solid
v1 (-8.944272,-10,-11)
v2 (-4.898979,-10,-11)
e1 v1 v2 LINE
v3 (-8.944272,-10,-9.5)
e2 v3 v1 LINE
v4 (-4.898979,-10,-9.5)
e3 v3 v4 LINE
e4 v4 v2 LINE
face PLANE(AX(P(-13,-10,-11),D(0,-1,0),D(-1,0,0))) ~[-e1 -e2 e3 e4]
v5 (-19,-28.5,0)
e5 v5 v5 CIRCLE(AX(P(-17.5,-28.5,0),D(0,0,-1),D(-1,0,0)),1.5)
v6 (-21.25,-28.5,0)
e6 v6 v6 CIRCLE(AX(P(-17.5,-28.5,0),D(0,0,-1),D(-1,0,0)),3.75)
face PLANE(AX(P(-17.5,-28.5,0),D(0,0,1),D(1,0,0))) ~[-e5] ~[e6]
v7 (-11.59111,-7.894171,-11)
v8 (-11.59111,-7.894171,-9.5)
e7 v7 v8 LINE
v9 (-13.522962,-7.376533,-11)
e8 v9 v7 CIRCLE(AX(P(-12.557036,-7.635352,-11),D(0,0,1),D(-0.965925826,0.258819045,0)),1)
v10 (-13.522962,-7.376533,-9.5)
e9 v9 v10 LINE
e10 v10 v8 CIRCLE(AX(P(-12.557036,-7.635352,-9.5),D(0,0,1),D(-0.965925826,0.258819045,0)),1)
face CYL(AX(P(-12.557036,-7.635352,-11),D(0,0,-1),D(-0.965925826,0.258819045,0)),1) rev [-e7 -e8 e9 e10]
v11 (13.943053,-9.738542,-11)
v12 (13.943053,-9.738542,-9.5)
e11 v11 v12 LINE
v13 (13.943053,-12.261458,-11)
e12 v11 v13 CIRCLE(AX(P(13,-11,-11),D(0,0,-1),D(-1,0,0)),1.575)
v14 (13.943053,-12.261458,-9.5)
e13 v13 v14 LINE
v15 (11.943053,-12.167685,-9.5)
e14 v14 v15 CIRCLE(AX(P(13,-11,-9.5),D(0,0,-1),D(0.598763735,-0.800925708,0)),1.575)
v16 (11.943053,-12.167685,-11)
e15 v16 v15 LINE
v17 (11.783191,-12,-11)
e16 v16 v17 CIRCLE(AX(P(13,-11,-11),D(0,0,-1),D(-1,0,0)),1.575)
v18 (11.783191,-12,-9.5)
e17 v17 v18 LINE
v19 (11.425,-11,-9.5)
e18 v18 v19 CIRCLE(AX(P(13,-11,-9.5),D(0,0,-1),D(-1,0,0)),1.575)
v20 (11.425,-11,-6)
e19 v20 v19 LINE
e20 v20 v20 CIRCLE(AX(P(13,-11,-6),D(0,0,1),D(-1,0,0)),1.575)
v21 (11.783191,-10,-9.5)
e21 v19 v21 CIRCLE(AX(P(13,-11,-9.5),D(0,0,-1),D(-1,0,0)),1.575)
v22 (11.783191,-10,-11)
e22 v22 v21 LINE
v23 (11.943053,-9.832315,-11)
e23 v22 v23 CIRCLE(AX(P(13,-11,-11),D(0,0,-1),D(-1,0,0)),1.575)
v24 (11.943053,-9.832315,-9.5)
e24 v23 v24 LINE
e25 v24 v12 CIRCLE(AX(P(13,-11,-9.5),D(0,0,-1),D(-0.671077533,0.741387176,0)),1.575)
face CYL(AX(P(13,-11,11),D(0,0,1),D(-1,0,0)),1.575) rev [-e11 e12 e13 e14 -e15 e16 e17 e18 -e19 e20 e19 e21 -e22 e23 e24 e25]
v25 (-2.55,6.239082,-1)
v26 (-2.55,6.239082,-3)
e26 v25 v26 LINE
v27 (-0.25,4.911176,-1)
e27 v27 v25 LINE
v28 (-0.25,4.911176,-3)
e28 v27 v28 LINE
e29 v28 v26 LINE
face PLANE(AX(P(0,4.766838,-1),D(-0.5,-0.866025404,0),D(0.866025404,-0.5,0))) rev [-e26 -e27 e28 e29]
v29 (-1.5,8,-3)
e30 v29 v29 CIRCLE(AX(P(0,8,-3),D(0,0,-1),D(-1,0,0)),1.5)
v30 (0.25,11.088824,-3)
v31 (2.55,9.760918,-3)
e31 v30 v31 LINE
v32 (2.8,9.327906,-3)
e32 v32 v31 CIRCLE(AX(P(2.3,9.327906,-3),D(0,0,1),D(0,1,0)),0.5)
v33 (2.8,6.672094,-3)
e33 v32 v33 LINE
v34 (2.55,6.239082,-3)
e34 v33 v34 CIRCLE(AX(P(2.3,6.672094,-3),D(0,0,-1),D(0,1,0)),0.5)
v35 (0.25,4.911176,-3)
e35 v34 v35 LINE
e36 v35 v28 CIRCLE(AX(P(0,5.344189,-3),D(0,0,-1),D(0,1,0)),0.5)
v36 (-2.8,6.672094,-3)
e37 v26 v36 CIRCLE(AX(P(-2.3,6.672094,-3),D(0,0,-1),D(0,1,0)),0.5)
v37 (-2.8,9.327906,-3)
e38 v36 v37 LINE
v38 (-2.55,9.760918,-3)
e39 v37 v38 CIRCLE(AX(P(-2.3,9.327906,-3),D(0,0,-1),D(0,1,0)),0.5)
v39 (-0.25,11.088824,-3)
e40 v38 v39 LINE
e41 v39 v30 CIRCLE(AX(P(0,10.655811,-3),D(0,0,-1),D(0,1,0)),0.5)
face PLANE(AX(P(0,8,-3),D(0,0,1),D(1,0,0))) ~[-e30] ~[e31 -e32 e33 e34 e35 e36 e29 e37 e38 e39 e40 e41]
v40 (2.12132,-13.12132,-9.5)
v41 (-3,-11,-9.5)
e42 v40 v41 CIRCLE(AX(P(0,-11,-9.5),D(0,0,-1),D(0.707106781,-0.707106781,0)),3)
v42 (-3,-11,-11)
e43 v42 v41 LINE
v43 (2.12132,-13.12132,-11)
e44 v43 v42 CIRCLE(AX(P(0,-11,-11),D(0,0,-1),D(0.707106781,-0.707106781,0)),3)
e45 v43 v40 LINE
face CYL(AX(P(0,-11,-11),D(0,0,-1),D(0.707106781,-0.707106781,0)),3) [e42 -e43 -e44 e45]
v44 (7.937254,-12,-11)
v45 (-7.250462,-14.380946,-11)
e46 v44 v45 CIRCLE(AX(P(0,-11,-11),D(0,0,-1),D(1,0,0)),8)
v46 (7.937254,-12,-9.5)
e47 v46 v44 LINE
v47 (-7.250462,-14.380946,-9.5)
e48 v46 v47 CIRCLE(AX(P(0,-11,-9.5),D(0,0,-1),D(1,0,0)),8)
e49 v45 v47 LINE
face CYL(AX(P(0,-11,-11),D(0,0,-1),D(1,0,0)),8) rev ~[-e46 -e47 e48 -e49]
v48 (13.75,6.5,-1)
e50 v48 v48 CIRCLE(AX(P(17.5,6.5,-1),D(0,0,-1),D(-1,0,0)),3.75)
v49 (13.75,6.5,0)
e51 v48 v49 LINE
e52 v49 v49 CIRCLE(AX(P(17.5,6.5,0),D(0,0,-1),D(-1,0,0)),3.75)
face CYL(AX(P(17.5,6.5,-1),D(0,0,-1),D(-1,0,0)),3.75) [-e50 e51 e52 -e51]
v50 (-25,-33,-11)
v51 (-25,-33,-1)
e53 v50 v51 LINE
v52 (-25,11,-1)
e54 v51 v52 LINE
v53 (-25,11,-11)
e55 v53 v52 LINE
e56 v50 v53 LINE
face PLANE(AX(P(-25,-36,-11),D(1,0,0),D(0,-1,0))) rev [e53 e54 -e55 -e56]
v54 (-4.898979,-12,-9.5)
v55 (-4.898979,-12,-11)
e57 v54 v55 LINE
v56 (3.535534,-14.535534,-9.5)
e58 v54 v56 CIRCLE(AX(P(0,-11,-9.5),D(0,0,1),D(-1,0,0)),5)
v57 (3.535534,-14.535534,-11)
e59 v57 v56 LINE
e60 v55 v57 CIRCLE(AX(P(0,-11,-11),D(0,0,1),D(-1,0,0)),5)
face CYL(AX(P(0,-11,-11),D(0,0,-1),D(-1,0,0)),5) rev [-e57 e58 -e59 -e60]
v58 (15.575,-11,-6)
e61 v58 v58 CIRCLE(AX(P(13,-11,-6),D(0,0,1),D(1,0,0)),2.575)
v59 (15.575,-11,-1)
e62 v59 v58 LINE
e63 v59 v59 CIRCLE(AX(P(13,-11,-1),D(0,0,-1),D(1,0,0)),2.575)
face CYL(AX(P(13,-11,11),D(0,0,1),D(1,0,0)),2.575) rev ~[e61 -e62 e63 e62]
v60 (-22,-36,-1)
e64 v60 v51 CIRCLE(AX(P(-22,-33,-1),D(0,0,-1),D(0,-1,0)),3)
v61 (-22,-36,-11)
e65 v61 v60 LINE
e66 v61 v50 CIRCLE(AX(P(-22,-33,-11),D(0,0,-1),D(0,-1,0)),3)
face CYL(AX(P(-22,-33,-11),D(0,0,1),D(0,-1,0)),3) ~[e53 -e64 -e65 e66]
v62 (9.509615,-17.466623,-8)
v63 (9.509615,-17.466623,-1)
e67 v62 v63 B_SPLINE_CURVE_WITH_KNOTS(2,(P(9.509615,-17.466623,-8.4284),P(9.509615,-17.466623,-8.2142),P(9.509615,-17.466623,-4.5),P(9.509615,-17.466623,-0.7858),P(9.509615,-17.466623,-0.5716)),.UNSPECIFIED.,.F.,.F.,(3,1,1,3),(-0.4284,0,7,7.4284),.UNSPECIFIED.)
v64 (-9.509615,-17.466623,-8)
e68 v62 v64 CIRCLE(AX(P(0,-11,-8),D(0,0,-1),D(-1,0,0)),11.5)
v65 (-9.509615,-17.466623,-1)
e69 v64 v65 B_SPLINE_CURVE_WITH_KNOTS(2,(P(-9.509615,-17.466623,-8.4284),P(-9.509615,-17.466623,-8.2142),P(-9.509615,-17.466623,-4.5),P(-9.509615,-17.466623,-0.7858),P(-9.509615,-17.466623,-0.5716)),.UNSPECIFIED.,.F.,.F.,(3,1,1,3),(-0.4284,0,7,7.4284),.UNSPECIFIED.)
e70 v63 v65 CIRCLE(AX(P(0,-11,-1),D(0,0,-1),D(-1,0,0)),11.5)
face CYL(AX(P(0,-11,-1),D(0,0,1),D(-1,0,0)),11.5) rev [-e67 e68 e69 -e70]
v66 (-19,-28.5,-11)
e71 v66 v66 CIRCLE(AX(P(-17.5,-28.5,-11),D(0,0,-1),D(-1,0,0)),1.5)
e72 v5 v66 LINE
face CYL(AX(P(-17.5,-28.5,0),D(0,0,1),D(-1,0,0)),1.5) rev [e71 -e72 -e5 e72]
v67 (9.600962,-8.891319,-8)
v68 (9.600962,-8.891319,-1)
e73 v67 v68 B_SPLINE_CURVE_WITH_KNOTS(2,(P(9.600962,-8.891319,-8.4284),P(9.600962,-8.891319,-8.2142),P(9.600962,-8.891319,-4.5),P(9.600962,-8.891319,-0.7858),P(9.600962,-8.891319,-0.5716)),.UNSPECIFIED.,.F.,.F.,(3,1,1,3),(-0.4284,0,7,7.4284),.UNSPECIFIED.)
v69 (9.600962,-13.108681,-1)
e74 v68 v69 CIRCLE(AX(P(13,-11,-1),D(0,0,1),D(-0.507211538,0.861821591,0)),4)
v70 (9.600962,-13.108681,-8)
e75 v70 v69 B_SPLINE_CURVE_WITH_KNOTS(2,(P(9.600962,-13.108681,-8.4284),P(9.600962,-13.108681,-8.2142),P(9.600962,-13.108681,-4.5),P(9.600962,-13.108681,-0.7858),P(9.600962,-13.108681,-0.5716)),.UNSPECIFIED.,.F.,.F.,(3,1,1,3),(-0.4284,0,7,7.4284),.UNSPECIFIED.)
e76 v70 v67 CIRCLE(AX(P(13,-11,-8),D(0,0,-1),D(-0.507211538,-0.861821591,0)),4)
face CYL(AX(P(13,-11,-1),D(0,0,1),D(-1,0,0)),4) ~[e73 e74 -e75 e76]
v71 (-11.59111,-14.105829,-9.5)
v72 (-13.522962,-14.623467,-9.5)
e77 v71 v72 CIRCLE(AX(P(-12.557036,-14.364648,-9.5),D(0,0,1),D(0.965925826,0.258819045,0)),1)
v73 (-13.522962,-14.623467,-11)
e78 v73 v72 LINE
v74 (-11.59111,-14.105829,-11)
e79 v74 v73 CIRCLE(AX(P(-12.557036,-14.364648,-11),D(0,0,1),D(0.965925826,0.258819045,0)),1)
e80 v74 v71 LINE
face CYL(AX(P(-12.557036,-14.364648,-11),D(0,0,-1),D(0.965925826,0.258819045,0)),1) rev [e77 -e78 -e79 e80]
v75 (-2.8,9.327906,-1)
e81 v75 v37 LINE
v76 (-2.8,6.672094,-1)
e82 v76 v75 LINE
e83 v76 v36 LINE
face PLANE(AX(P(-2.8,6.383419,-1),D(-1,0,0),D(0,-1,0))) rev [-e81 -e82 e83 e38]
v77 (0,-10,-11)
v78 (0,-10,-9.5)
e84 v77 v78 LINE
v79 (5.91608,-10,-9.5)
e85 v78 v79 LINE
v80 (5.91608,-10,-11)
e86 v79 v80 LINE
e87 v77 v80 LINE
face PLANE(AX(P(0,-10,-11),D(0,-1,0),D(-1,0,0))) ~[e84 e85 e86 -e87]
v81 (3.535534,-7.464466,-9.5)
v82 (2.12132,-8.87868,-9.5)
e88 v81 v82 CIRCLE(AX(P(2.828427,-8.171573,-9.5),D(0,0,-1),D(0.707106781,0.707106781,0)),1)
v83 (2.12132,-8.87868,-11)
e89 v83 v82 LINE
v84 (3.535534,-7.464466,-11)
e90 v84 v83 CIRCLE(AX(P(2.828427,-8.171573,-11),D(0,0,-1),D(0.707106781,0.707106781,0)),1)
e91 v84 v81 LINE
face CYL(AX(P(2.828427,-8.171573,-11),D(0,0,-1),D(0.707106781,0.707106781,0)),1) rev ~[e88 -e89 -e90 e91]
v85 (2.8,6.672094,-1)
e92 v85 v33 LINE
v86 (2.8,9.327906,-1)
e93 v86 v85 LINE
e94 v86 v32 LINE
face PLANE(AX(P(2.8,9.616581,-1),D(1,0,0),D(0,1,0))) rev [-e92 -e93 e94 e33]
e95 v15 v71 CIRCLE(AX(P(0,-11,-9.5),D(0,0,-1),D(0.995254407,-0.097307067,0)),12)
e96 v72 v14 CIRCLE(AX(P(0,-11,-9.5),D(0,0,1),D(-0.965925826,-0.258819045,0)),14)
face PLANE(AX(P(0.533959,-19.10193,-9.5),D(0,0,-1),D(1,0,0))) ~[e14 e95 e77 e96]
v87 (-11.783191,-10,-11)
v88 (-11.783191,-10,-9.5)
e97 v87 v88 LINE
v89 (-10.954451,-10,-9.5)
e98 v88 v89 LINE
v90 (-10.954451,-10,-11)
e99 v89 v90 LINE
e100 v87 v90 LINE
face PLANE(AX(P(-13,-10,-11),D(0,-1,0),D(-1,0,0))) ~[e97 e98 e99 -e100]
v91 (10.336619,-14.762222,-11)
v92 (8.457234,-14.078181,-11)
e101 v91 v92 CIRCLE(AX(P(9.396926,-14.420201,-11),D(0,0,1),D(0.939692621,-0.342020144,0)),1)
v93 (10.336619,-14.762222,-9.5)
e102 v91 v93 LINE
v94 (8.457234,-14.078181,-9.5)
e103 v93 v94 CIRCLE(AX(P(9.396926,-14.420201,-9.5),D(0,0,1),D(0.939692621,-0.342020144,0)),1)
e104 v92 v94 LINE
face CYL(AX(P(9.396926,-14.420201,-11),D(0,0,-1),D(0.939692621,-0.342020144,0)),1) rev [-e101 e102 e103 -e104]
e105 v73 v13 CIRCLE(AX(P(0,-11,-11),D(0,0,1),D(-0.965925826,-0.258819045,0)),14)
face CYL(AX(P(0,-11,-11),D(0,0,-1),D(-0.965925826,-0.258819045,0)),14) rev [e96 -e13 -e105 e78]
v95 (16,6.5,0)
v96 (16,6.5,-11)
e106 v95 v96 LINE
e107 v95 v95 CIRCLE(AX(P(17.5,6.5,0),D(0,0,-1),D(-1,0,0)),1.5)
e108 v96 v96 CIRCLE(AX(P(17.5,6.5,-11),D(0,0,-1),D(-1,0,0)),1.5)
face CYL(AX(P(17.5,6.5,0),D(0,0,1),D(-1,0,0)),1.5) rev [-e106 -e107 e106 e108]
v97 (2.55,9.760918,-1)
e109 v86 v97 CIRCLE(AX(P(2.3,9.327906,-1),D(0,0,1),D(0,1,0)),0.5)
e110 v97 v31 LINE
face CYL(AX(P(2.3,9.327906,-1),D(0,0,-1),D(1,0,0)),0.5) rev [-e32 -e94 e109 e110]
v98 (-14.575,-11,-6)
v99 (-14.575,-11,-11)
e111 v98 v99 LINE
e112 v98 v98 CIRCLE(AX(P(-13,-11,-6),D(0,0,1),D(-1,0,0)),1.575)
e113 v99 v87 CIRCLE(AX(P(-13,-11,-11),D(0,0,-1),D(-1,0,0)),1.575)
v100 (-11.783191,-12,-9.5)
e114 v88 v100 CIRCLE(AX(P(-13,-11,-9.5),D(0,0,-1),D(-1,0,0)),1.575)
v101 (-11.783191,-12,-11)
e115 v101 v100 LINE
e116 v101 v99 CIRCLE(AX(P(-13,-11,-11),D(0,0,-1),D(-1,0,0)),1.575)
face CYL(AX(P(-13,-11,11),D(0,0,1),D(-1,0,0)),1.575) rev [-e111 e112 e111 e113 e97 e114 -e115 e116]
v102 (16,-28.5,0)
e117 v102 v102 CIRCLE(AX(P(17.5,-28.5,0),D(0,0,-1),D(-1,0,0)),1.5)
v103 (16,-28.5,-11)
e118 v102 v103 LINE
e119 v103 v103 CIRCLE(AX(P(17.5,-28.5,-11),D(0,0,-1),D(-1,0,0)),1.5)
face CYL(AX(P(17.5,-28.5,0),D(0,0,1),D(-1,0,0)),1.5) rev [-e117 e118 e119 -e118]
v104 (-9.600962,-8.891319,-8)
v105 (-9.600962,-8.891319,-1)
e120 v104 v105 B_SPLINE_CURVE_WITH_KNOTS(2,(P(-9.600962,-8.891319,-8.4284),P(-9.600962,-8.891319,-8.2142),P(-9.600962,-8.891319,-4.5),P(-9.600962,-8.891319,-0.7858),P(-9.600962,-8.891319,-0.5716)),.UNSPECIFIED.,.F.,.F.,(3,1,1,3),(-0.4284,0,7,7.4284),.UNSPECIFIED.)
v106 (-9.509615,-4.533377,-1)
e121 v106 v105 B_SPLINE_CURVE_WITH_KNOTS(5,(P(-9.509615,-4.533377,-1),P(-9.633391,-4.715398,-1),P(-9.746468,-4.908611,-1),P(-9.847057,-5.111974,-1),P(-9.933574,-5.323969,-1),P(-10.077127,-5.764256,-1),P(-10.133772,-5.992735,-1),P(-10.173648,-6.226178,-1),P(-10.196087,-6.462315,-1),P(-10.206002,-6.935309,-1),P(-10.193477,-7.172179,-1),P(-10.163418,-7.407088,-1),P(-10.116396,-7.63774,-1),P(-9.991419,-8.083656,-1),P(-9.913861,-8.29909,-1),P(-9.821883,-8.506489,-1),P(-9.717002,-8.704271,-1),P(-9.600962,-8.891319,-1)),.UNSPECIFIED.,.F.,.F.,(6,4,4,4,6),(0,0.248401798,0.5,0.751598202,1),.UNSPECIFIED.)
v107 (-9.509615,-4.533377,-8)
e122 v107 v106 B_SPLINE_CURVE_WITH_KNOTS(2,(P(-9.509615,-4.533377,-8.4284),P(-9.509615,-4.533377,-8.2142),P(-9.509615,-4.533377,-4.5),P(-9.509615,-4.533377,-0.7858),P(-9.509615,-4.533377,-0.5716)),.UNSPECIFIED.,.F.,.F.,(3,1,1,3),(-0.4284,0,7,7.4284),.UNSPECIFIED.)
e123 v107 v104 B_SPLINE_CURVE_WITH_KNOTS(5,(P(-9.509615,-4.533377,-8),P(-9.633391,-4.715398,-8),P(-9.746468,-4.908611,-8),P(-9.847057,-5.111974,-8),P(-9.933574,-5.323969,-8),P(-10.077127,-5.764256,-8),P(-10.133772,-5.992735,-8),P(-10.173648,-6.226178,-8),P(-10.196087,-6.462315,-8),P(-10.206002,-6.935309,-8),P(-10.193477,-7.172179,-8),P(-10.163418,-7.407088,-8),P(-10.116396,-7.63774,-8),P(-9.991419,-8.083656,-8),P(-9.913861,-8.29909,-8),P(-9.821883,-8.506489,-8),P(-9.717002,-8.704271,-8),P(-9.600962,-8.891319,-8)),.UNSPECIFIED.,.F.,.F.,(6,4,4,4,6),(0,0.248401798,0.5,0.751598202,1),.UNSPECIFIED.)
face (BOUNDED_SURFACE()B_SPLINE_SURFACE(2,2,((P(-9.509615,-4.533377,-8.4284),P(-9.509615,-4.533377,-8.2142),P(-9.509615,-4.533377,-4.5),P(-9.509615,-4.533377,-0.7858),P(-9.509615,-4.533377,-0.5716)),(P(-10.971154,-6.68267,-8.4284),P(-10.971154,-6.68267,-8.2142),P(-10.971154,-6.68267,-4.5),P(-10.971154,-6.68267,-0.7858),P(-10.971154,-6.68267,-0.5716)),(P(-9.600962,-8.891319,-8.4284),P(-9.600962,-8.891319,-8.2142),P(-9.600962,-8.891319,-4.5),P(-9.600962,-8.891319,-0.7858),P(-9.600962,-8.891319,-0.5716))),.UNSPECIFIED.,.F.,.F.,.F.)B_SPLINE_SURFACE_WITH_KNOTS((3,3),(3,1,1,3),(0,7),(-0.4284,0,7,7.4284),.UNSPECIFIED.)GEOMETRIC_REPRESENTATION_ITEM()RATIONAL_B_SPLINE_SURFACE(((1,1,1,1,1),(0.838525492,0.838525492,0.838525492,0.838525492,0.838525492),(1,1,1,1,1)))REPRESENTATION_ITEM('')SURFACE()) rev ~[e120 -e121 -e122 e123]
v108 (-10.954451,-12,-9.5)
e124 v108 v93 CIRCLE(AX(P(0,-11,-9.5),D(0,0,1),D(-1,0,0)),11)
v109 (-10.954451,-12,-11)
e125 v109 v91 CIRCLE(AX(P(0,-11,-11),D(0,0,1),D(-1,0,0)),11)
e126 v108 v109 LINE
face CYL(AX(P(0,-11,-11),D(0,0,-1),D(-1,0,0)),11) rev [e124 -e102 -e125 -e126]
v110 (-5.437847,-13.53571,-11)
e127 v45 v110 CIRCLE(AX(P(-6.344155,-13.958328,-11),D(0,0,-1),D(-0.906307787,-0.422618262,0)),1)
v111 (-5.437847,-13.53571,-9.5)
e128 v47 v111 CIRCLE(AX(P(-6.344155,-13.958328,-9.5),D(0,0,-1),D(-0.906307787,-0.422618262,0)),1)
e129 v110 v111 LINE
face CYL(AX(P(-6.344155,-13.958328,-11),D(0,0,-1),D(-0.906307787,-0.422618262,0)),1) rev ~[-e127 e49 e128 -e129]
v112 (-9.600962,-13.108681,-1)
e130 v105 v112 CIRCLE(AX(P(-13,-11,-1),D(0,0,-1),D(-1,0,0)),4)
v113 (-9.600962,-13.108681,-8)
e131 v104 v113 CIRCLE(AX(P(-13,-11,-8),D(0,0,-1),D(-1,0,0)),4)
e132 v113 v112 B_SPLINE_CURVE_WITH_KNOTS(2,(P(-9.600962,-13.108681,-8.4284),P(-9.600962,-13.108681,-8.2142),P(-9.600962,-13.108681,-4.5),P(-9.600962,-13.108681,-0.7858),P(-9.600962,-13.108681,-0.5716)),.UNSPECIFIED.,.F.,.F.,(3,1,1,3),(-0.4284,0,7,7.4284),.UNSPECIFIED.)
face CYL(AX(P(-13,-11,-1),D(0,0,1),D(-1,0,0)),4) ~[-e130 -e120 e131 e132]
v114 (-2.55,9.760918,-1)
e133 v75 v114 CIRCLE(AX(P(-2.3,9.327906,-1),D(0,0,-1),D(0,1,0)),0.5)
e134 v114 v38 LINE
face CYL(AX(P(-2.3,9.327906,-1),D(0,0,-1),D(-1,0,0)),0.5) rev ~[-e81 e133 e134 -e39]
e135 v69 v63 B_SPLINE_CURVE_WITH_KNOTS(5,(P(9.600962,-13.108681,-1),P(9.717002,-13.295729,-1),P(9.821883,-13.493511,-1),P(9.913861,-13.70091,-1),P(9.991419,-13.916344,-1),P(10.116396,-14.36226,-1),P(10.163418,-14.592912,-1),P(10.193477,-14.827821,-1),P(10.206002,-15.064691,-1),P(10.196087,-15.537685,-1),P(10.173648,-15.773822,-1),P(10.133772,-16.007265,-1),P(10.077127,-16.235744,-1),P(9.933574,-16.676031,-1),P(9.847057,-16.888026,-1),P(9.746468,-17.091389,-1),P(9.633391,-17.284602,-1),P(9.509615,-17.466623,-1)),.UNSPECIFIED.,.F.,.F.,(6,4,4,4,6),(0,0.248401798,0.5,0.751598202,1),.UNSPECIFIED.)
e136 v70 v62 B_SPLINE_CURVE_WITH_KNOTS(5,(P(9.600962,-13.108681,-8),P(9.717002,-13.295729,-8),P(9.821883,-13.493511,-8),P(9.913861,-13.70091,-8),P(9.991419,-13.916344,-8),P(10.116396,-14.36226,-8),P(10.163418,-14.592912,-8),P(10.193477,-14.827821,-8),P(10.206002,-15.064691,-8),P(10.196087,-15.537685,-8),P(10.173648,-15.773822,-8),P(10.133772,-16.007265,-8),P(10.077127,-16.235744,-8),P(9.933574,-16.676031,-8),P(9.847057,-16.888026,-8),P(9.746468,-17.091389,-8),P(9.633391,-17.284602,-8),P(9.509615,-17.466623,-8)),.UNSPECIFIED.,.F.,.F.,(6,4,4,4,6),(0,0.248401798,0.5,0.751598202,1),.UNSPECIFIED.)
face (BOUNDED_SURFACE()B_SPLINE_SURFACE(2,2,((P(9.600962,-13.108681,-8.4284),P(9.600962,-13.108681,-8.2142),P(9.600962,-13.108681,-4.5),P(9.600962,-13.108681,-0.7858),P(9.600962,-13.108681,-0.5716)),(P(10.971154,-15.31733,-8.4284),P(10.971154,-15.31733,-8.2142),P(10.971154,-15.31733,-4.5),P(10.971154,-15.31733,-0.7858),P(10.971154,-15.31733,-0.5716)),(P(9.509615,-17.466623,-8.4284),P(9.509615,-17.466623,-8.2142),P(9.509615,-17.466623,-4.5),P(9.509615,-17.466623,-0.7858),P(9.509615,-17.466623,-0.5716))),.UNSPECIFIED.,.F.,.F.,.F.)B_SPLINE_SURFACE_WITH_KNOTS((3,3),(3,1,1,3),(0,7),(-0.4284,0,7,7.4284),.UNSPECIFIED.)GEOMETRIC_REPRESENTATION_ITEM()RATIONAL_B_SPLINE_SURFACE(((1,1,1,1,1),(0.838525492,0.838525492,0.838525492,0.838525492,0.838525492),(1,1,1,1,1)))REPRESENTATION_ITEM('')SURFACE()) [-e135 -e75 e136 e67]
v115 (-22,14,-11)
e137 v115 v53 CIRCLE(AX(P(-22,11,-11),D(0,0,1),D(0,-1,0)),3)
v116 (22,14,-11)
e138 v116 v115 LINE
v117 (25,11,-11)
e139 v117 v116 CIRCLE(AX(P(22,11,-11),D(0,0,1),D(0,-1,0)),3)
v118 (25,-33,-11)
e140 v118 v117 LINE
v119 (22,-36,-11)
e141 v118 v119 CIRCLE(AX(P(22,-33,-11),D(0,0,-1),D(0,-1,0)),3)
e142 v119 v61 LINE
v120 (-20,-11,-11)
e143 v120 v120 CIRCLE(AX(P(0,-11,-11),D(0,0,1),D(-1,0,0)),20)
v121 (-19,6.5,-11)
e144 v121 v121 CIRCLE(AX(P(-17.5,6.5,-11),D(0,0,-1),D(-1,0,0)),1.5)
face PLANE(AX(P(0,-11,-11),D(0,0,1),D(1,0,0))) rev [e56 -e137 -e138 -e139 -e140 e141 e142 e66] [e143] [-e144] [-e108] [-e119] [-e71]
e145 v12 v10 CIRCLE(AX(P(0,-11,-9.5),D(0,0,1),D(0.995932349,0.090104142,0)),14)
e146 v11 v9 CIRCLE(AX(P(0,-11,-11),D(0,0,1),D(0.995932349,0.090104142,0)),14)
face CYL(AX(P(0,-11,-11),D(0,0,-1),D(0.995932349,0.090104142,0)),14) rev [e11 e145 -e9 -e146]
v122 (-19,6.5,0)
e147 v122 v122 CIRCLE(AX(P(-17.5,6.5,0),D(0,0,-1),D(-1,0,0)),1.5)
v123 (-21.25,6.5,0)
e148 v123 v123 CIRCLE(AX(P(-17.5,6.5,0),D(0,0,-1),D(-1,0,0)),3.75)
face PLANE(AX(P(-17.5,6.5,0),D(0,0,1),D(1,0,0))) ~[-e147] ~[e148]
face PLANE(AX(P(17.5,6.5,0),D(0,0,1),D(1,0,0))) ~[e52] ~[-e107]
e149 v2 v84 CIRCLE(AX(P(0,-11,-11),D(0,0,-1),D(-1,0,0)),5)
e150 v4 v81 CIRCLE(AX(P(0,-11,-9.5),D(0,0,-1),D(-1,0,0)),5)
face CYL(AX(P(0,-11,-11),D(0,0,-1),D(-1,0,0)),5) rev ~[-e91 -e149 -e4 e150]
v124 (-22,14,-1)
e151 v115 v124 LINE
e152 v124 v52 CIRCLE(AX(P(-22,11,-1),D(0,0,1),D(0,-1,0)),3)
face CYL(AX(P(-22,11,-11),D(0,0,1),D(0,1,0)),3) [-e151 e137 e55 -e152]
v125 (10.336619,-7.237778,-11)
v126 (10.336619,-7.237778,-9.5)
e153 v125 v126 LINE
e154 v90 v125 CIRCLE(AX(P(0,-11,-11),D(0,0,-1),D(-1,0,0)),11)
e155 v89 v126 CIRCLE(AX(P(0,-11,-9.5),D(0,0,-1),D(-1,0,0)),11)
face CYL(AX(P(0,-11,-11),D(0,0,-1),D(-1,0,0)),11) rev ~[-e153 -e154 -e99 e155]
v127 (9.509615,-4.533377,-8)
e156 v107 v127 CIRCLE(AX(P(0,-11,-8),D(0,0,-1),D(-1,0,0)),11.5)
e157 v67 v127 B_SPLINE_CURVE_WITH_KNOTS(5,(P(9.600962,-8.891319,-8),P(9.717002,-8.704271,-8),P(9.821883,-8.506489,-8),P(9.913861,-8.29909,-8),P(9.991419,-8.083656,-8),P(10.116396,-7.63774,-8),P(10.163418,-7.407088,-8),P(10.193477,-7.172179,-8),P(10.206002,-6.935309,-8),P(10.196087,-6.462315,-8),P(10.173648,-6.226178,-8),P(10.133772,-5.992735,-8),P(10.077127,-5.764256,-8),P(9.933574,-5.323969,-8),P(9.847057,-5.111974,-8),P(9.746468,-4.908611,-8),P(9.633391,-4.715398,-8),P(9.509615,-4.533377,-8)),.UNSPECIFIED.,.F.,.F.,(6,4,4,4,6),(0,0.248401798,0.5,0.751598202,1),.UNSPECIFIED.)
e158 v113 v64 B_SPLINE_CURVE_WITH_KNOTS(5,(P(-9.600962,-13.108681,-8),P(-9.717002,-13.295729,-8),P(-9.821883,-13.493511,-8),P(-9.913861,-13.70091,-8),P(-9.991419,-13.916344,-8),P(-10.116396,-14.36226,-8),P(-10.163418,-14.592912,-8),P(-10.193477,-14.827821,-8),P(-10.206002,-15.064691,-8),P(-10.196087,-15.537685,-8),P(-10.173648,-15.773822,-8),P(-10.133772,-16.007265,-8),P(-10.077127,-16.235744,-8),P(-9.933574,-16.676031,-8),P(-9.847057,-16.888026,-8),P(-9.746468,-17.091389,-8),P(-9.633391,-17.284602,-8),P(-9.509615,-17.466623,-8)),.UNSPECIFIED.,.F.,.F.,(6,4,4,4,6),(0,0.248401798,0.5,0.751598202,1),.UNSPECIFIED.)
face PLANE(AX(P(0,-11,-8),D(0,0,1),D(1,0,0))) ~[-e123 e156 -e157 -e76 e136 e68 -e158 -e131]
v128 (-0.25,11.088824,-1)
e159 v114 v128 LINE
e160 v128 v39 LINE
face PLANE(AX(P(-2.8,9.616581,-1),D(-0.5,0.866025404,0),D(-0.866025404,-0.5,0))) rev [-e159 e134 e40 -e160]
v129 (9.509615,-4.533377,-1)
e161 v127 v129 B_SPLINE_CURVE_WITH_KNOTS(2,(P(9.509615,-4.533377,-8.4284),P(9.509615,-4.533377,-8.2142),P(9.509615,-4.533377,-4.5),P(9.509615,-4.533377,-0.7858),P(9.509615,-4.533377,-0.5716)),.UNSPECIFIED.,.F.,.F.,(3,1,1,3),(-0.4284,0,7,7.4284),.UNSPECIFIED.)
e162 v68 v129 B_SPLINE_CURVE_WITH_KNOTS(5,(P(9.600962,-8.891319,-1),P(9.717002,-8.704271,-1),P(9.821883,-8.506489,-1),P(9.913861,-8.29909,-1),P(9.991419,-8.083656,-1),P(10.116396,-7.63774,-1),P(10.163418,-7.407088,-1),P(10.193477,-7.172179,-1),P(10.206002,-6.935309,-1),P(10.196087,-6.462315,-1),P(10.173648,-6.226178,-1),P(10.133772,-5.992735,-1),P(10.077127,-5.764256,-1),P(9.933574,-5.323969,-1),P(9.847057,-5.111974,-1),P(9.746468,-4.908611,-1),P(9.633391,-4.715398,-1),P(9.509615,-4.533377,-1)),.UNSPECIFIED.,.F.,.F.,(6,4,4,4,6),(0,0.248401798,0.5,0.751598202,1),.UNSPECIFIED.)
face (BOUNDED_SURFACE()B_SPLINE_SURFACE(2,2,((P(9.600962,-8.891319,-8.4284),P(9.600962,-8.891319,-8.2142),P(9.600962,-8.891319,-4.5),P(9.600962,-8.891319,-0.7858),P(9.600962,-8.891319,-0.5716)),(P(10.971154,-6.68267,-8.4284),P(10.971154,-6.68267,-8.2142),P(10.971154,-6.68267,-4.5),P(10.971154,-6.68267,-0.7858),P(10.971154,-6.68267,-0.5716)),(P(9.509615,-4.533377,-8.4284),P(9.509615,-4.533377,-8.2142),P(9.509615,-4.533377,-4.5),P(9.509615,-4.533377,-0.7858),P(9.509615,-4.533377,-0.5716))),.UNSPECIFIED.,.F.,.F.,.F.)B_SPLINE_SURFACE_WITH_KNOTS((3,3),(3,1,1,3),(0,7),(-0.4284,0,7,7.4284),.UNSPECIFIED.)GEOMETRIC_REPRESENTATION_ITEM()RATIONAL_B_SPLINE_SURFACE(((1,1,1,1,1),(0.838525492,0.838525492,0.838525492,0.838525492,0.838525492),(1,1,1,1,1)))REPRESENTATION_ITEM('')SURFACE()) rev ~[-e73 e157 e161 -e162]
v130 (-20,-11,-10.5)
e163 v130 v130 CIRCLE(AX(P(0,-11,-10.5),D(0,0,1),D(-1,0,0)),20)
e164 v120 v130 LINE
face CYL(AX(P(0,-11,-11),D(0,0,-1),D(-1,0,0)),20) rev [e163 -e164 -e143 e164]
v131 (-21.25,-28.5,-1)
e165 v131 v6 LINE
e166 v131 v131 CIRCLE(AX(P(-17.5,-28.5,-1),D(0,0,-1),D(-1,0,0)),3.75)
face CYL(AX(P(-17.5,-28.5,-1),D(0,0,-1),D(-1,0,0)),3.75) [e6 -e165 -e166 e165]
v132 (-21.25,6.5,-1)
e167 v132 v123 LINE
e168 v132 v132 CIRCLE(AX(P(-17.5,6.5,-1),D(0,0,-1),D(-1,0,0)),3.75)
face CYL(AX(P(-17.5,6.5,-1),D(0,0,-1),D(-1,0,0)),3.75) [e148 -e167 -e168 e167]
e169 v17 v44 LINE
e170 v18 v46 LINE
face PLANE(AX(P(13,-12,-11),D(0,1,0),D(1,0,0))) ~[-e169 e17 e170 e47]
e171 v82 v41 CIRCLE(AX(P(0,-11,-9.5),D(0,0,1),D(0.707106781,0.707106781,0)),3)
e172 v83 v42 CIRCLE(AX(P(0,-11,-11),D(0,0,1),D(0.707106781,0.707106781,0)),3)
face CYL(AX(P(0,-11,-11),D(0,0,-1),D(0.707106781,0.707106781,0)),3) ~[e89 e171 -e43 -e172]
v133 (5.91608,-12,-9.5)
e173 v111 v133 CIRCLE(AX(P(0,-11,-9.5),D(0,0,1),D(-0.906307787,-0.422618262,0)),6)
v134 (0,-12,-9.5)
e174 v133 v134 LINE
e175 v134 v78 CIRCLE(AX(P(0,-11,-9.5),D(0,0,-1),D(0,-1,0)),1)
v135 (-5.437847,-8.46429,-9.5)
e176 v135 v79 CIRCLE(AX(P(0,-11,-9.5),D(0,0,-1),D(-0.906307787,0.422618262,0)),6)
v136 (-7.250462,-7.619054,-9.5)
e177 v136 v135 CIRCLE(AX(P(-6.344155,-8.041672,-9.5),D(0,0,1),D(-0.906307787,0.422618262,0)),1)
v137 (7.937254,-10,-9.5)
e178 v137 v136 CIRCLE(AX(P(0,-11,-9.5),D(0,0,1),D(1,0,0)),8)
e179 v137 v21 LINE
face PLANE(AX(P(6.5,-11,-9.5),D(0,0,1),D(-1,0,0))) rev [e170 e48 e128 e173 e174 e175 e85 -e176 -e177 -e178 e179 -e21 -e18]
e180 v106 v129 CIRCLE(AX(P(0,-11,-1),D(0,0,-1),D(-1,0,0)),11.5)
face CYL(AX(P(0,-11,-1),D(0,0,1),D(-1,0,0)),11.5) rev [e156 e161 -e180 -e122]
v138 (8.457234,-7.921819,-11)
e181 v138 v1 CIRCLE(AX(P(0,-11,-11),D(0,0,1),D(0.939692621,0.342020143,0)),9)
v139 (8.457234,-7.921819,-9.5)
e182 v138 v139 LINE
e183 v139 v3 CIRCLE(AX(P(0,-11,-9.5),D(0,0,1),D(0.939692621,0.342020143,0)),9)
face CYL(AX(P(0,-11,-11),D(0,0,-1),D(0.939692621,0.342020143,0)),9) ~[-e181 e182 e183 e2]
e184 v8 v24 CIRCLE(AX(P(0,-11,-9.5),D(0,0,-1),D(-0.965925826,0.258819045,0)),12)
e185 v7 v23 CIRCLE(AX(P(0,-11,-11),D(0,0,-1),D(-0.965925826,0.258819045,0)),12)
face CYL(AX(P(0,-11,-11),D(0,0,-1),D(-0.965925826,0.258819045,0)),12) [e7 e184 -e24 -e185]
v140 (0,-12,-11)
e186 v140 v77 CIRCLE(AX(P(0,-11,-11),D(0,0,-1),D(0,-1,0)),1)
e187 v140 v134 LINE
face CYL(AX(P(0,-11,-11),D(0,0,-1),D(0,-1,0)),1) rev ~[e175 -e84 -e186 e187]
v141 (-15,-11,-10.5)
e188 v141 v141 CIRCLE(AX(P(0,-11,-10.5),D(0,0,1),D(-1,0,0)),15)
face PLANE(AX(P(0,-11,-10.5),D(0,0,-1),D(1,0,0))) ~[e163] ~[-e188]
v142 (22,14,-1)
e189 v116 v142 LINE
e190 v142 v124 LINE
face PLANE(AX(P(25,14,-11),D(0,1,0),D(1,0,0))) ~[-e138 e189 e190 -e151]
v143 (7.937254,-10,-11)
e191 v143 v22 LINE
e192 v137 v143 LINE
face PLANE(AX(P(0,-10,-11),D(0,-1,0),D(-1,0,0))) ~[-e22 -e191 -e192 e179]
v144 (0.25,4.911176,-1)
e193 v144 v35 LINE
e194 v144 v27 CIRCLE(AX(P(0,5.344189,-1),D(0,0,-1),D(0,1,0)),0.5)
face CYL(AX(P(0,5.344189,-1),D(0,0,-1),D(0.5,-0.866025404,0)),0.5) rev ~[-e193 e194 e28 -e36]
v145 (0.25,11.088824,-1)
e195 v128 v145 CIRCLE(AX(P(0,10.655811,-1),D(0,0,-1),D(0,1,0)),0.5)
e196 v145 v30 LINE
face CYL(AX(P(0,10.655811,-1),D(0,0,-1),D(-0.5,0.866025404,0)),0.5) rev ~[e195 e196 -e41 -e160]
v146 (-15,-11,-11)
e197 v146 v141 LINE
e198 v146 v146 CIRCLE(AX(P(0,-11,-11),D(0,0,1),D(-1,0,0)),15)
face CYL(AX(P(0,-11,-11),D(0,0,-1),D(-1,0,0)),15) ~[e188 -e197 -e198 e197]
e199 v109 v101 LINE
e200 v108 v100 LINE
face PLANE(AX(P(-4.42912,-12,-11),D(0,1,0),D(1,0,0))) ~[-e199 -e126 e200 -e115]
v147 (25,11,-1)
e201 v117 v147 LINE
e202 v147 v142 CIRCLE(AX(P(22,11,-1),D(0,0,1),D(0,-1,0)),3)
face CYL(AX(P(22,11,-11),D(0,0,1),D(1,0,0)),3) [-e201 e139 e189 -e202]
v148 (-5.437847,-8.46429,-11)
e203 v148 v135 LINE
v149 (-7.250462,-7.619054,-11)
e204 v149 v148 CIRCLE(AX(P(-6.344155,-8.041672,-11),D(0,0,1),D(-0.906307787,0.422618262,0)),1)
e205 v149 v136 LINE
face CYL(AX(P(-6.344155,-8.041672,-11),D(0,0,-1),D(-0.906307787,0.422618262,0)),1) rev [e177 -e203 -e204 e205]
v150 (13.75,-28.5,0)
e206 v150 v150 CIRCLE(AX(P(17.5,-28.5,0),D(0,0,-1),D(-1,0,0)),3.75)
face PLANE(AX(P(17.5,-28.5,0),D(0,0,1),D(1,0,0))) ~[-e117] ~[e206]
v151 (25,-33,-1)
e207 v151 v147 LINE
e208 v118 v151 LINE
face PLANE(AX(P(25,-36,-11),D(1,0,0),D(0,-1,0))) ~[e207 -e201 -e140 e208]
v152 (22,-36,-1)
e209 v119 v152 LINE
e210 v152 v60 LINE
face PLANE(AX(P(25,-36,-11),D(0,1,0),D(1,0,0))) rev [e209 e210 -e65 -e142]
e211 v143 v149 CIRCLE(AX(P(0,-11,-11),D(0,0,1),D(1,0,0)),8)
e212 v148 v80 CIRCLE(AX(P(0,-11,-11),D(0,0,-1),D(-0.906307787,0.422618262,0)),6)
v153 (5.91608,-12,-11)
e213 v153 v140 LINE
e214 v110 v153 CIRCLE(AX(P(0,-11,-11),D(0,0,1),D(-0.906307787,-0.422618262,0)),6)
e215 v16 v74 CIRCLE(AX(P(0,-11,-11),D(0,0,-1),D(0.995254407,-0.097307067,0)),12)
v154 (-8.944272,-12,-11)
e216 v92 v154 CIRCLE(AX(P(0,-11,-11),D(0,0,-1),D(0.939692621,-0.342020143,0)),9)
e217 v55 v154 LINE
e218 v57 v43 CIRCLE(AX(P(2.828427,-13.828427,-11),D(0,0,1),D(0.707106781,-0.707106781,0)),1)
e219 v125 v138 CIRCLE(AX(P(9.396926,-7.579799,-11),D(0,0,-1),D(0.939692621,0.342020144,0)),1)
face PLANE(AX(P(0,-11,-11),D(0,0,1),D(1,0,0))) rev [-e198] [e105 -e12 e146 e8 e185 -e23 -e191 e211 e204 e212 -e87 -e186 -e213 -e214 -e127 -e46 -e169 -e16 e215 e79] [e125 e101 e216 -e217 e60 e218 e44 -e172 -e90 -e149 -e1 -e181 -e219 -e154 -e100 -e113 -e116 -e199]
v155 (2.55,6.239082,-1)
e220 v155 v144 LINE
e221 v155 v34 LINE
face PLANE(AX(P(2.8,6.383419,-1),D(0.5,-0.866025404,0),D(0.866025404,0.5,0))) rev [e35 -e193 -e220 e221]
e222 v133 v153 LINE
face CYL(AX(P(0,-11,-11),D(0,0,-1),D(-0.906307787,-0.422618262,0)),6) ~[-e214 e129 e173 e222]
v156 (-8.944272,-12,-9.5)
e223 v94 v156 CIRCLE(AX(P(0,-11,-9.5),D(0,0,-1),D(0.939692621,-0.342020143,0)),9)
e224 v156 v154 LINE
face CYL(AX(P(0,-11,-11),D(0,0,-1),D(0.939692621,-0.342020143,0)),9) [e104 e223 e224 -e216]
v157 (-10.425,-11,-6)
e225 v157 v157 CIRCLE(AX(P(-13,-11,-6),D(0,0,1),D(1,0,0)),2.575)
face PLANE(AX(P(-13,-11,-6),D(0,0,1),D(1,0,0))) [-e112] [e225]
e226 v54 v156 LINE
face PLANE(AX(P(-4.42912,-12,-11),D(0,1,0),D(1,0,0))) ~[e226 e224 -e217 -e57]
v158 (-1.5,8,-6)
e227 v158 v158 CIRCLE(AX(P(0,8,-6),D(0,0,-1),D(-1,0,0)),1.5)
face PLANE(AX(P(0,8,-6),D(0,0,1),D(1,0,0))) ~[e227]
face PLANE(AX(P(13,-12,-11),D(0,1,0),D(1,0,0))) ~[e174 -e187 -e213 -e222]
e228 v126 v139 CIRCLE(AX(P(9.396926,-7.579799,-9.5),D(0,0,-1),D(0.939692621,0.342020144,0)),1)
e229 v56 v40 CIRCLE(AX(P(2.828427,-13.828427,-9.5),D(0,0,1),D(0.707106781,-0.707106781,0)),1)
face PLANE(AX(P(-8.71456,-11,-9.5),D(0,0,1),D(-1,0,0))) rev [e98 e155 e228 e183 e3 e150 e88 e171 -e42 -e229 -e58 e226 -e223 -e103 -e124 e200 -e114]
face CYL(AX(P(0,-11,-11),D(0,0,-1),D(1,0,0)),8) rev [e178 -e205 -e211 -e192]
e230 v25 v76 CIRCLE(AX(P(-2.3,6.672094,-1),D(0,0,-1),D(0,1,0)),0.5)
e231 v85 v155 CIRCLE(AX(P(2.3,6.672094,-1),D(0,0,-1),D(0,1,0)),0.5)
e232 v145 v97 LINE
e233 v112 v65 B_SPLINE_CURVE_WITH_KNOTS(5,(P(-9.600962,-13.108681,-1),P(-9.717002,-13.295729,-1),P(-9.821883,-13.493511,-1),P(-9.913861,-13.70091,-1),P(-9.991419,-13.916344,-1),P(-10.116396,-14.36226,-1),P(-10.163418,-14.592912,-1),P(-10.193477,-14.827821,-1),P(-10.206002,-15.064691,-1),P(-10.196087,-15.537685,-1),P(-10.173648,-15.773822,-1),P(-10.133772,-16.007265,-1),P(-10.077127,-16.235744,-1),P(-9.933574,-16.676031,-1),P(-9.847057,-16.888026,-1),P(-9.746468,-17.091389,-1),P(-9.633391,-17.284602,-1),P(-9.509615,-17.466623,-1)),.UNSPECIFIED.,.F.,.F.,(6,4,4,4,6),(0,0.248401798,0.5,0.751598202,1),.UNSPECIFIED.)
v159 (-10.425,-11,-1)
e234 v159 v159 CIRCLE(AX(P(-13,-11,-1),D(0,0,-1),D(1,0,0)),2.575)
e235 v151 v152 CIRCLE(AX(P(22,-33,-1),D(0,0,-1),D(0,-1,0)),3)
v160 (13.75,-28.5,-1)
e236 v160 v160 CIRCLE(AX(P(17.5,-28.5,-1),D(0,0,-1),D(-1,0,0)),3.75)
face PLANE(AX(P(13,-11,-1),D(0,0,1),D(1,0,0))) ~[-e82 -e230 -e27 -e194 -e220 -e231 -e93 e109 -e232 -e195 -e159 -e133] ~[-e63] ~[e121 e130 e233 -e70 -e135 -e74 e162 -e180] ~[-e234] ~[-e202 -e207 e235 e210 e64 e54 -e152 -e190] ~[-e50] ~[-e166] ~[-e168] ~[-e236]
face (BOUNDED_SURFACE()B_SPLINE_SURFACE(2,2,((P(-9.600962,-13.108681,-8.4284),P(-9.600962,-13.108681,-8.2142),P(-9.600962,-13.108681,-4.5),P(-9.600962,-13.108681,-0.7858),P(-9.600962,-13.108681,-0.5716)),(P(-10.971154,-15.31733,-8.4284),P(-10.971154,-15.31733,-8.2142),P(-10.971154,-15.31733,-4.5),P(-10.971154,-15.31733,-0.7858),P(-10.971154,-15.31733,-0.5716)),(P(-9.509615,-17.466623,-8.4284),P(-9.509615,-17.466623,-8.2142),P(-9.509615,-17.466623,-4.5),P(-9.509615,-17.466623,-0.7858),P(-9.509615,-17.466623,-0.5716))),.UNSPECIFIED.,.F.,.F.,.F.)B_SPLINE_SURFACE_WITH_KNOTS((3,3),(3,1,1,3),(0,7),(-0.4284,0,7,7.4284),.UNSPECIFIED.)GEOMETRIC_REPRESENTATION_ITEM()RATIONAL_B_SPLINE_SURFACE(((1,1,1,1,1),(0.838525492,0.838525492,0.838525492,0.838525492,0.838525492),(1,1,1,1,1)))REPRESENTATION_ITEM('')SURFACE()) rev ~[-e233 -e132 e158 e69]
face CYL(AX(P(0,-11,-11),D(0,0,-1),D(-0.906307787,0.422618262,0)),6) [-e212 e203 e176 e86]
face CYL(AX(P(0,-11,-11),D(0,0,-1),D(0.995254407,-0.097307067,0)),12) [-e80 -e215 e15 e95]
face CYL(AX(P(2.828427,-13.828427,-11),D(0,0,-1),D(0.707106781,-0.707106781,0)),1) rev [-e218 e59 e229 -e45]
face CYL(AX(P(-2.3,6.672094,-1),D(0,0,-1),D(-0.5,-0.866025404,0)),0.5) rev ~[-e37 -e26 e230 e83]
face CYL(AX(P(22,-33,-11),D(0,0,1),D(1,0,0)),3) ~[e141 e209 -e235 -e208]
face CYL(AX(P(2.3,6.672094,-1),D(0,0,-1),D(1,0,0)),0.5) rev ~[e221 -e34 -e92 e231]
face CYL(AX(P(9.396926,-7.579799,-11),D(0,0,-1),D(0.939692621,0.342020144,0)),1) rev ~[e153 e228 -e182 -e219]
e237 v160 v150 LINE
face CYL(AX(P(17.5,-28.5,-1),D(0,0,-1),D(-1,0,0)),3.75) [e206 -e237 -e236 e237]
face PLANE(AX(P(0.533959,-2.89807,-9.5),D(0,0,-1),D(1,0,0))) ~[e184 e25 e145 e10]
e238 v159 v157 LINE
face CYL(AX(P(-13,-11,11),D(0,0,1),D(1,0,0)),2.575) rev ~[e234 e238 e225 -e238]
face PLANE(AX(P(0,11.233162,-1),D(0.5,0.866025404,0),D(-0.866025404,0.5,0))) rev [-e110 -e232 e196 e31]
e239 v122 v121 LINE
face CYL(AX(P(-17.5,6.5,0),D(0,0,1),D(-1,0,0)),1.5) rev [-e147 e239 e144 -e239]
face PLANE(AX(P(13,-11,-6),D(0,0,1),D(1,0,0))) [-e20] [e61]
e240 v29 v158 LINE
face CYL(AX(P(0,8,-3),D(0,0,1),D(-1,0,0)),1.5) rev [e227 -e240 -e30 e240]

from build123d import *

# Parameters (mm, degrees)
SKETCH1_W               = 50
SKETCH1_H               = 50
BODY_DEPTH              = 10
SKETCH2_R               = 11.5
CUT_VIEW_DEPTH          = 7
FILLETBODY_R            = 3
SKETCH3_R               = 3.75
BOLT_EXTRUDE_DEPTH      = 1
SKETCH4_R               = 1.5
BOLT_DEPTH              = 10
BOLT_DEPTH_BACK         = 16
HEX_2_DEPTH             = 2
SKETCH19_R              = 1.5
HEX_BOLT_DEPTH          = 3
SKETCH6_R               = 4
FIELD1_DEPTH            = 7
FIELD2_R                = 4
SKETCH7_R               = 2.575
PORTS1_DEPTH            = 12
SKETCH10_R              = 1.575
PORTS2_DEPTH            = 12
PORTS2_DEPTH_BACK       = 32
SKETCH11_R              = 20
SKETCH11_R_2            = 15
SEAL1_DEPTH             = 0.5
FLOWFIELD_DEPTH         = 1.5
FLOWFIELD_CHANNEL_DEPTH = 1.5
BODY_MOVE_COPY1_ANGLE   = 90
BODY_MOVE_COPY2_ANGLE   = 180
SKETCH20_R              = 2.575
CUT_EXTRUDE1_DEPTH      = 17
FILLET1_R               = 0.5


with BuildPart() as part:
    # Sketch1 → Body (new body)
    with BuildSketch(Plane(origin=(0, 0, 0), x_dir=(1, 0, 0), z_dir=(0, 1, 0))):
        Rectangle(SKETCH1_W, SKETCH1_H)
    extrude(amount=BODY_DEPTH)

    # Sketch2 → Cut view (cut)
    with BuildSketch(Plane(origin=(0, 10, 0), x_dir=(1, 0, 0), z_dir=(0, 1, 0))):
        Circle(SKETCH2_R)
    extrude(amount=-CUT_VIEW_DEPTH, mode=Mode.SUBTRACT)

    # FilletBody
    filletbody_edges = [part.edges().sort_by_distance(p)[0] for p in [
        (-25, 5, -25),
        (25, 5, -25),
        (25, 5, 25),
        (-25, 5, 25),
    ]]
    fillet(filletbody_edges, radius=FILLETBODY_R)

    # Sketch3 → Bolt extrude (add)
    with BuildSketch(Plane(origin=(0, 10, 0), x_dir=(1, 0, 0), z_dir=(0, 1, 0))):
        with Locations((-17.5, 17.5)):
            Circle(SKETCH3_R)
        with Locations((17.5, 17.5)):
            Circle(SKETCH3_R)
        with Locations((17.5, -17.5)):
            Circle(SKETCH3_R)
        with Locations((-17.5, -17.5)):
            Circle(SKETCH3_R)
    extrude(amount=BOLT_EXTRUDE_DEPTH)

    # Sketch4 → Bolt (cut, two sides)
    with BuildSketch(Plane(origin=(0, 11, 0), x_dir=(1, 0, 0), z_dir=(0, 1, 0))) as bolt_sk:
        with Locations((-17.5, 17.5)):
            Circle(SKETCH4_R)
        with Locations((17.5, 17.5)):
            Circle(SKETCH4_R)
        with Locations((17.5, -17.5)):
            Circle(SKETCH4_R)
        with Locations((-17.5, -17.5)):
            Circle(SKETCH4_R)
    extrude(amount=BOLT_DEPTH, mode=Mode.SUBTRACT)
    extrude(bolt_sk.sketch, amount=-BOLT_DEPTH_BACK, mode=Mode.SUBTRACT)

    # Sketch5 → Hex 2 (cut)
    with BuildSketch(Plane(origin=(0, 10, 0), x_dir=(1, 0, 0), z_dir=(0, 1, 0))):
        Polygon((0, 22.233161507), (-2.8, 20.616580754), (-2.8, 17.383419246), (0, 15.766838493), (2.8, 17.383419246), (2.8, 20.616580754), align=None)
    extrude(amount=-HEX_2_DEPTH, mode=Mode.SUBTRACT)

    # Sketch19 → Hex_bolt (cut)
    with BuildSketch(Plane(origin=(0, 8, 0), x_dir=(1, 0, 0), z_dir=(0, 1, 0))):
        with Locations((0, 19)):
            Circle(SKETCH19_R)
    extrude(amount=-HEX_BOLT_DEPTH, mode=Mode.SUBTRACT)

    # Sketch6 → Field1 (add)
    with BuildSketch(Plane(origin=(0, 10, 0), x_dir=(1, 0, 0), z_dir=(0, 1, 0))):
        with Locations((-13, 0)):
            Circle(SKETCH6_R)
        with Locations((13, 0)):
            Circle(SKETCH6_R)
    extrude(amount=-FIELD1_DEPTH)

    # Field2
    field2_edges = [part.edges().sort_by_distance(p)[0] for p in [
        (-10.971153846, 6.5, 3.447286365),
        (-10.971153846, 6.5, -3.447286365),
        (10.971153846, 6.5, -3.447286365),
        (10.971153846, 6.5, 3.447286365),
    ]]
    fillet(field2_edges, radius=FIELD2_R)

    # Sketch7 → Ports1 (add)
    with BuildSketch(Plane(origin=(0, 10, 0), x_dir=(1, 0, 0), z_dir=(0, 1, 0))):
        with Locations((-13, 0)):
            Circle(SKETCH7_R)
        with Locations((13, 0)):
            Circle(SKETCH7_R)
    extrude(amount=PORTS1_DEPTH)

    # Sketch10 → Ports2 (cut, two sides)
    with BuildSketch(Plane(origin=(0, 22, 0), x_dir=(1, 0, 0), z_dir=(0, 1, 0))) as ports2_sk:
        with Locations((-13, 0)):
            Circle(SKETCH10_R)
        with Locations((13, 0)):
            Circle(SKETCH10_R)
    extrude(amount=PORTS2_DEPTH, mode=Mode.SUBTRACT)
    extrude(ports2_sk.sketch, amount=-PORTS2_DEPTH_BACK, mode=Mode.SUBTRACT)

    # Sketch11 → Seal1 (cut)
    with BuildSketch(Plane.XZ):
        Circle(SKETCH11_R)
        Circle(SKETCH11_R_2, mode=Mode.SUBTRACT)
    extrude(amount=-SEAL1_DEPTH, mode=Mode.SUBTRACT)

    # Sketch15 → FlowField (cut)
    with BuildSketch(Plane.XZ):
        with BuildLine():
            ThreePointArc((13.522961568, 3.623466631), (-1.199537572, 13.948516395), (-13.943052885, 1.261457989))
            ThreePointArc((-13.943052885, 1.261457989), (-12.926234652, 1.573271646), (-11.943052885, 1.167684801))
            ThreePointArc((-11.943052885, 1.167684801), (-0.984919414, 11.95951227), (11.591109915, 3.105828541))
            ThreePointArc((11.591109915, 3.105828541), (12.815854787, 2.39872176), (13.522961568, 3.623466631))
        make_face()
        with BuildLine():
            ThreePointArc((11, 0), (1.910129954, 10.832885283), (-10.336618829, 3.762221577))
            ThreePointArc((-10.336618829, 3.762221577), (-9.738946351, 2.480508812), (-8.457233587, 3.07818129))
            ThreePointArc((-8.457233587, 3.07818129), (1.562833599, 8.863269777), (9, 0))
            Line((9, 0), (11, 0))
        make_face()
        with BuildLine():
            ThreePointArc((7.250462296, 3.380946094), (6.766772771, 2.052020045), (5.437846722, 2.53570957))
            ThreePointArc((5.437846722, 2.53570957), (-1.298637684, 5.857776043), (-6, 0))
            Line((-6, 0), (-8, 0))
            ThreePointArc((-8, 0), (-1.731516912, 7.810368057), (7.250462296, 3.380946094))
        make_face()
        with BuildLine():
            ThreePointArc((5, 0), (1.913417162, 4.619397663), (-3.535533906, 3.535533906))
            ThreePointArc((-3.535533906, 3.535533906), (-3.535533906, 2.121320344), (-2.121320344, 2.121320344))
            ThreePointArc((-2.121320344, 2.121320344), (1.148050297, 2.771638598), (3, 0))
            Line((3, 0), (5, 0))
        make_face()
        with BuildLine():
            ThreePointArc((5, 0), (1.913417162, -4.619397663), (-3.535533906, -3.535533906))
            ThreePointArc((-3.535533906, -3.535533906), (-3.535533906, -2.121320344), (-2.121320344, -2.121320344))
            ThreePointArc((-2.121320344, -2.121320344), (1.148050297, -2.771638598), (3, 0))
            Line((3, 0), (5, 0))
        make_face()
        with BuildLine():
            ThreePointArc((-8, 0), (-1.731516912, -7.810368057), (7.250462296, -3.380946094))
            ThreePointArc((7.250462296, -3.380946094), (6.766772771, -2.052020045), (5.437846722, -2.53570957))
            ThreePointArc((5.437846722, -2.53570957), (-1.298637684, -5.857776043), (-6, 0))
            Line((-6, 0), (-8, 0))
        make_face()
        with BuildLine():
            ThreePointArc((11, 0), (1.910129954, -10.832885283), (-10.336618829, -3.762221577))
            ThreePointArc((-10.336618829, -3.762221577), (-9.738946351, -2.480508812), (-8.457233587, -3.07818129))
            ThreePointArc((-8.457233587, -3.07818129), (1.562833599, -8.863269777), (9, 0))
            Line((9, 0), (11, 0))
        make_face()
        with BuildLine():
            ThreePointArc((-11.943052885, -1.167684801), (-12.926234652, -1.573271646), (-13.943052885, -1.261457989))
            ThreePointArc((-13.943052885, -1.261457989), (-1.199537572, -13.948516395), (13.522961568, -3.623466631))
            ThreePointArc((13.522961568, -3.623466631), (12.815854787, -2.39872176), (11.591109915, -3.105828541))
            ThreePointArc((11.591109915, -3.105828541), (-0.984919414, -11.95951227), (-11.943052885, -1.167684801))
        make_face()
    extrude(amount=-FLOWFIELD_DEPTH, mode=Mode.SUBTRACT)

    # Sketch16 → FlowField_Channel (cut)
    with BuildSketch(Plane.XZ):
        with BuildLine():
            Line((-13, 1), (0, 1))
            ThreePointArc((0, 1), (1, 0), (0, -1))
            Line((0, -1), (-13, -1))
            ThreePointArc((-13, -1), (-14, 0), (-13, 1))
        make_face()
        with BuildLine():
            Line((13, -1), (4.429119544, -1))
            ThreePointArc((4.429119544, -1), (3.429119544, 0), (4.429119544, 1))
            Line((4.429119544, 1), (13, 1))
            ThreePointArc((13, 1), (14, 0), (13, -1))
        make_face()
    extrude(amount=-FLOWFIELD_CHANNEL_DEPTH, mode=Mode.SUBTRACT)


with BuildPart() as body_2:
    # Mirror3: mirrored copy
    add(part.part.mirror(Plane.ZX))


with BuildPart() as body_2_1:
    # Body-Move/Copy1: moved
    add(body_2.part.rotate(Axis((0, -11, 0), (-1, 0, 0)), BODY_MOVE_COPY1_ANGLE))


with BuildPart() as body_2_2:
    # Body-Move/Copy2: moved
    add(body_2_1.part.rotate(Axis((0, -11, 0), (0, 0, 1)), BODY_MOVE_COPY2_ANGLE))

    # Sketch20 → Cut-Extrude1 (cut)
    with BuildSketch(Plane.XY.offset(11)):
        with Locations((-13, -11)):
            Circle(SKETCH20_R)
        with Locations((13, -11)):
            Circle(SKETCH20_R)
    extrude(amount=-CUT_EXTRUDE1_DEPTH, mode=Mode.SUBTRACT)

    # Fillet1
    fillet1_edges = [body_2_2.edges().sort_by_distance(p)[0] for p in [
        (0, 11.233161507, -2),
        (-2.8, 9.616580754, -2),
        (-2.8, 6.383419246, -2),
        (0, 4.766838493, -2),
        (2.8, 6.383419246, -2),
        (2.8, 9.616580754, -2),
    ]]
    fillet(fillet1_edges, radius=FILLET1_R)


solid = body_2_2.part
